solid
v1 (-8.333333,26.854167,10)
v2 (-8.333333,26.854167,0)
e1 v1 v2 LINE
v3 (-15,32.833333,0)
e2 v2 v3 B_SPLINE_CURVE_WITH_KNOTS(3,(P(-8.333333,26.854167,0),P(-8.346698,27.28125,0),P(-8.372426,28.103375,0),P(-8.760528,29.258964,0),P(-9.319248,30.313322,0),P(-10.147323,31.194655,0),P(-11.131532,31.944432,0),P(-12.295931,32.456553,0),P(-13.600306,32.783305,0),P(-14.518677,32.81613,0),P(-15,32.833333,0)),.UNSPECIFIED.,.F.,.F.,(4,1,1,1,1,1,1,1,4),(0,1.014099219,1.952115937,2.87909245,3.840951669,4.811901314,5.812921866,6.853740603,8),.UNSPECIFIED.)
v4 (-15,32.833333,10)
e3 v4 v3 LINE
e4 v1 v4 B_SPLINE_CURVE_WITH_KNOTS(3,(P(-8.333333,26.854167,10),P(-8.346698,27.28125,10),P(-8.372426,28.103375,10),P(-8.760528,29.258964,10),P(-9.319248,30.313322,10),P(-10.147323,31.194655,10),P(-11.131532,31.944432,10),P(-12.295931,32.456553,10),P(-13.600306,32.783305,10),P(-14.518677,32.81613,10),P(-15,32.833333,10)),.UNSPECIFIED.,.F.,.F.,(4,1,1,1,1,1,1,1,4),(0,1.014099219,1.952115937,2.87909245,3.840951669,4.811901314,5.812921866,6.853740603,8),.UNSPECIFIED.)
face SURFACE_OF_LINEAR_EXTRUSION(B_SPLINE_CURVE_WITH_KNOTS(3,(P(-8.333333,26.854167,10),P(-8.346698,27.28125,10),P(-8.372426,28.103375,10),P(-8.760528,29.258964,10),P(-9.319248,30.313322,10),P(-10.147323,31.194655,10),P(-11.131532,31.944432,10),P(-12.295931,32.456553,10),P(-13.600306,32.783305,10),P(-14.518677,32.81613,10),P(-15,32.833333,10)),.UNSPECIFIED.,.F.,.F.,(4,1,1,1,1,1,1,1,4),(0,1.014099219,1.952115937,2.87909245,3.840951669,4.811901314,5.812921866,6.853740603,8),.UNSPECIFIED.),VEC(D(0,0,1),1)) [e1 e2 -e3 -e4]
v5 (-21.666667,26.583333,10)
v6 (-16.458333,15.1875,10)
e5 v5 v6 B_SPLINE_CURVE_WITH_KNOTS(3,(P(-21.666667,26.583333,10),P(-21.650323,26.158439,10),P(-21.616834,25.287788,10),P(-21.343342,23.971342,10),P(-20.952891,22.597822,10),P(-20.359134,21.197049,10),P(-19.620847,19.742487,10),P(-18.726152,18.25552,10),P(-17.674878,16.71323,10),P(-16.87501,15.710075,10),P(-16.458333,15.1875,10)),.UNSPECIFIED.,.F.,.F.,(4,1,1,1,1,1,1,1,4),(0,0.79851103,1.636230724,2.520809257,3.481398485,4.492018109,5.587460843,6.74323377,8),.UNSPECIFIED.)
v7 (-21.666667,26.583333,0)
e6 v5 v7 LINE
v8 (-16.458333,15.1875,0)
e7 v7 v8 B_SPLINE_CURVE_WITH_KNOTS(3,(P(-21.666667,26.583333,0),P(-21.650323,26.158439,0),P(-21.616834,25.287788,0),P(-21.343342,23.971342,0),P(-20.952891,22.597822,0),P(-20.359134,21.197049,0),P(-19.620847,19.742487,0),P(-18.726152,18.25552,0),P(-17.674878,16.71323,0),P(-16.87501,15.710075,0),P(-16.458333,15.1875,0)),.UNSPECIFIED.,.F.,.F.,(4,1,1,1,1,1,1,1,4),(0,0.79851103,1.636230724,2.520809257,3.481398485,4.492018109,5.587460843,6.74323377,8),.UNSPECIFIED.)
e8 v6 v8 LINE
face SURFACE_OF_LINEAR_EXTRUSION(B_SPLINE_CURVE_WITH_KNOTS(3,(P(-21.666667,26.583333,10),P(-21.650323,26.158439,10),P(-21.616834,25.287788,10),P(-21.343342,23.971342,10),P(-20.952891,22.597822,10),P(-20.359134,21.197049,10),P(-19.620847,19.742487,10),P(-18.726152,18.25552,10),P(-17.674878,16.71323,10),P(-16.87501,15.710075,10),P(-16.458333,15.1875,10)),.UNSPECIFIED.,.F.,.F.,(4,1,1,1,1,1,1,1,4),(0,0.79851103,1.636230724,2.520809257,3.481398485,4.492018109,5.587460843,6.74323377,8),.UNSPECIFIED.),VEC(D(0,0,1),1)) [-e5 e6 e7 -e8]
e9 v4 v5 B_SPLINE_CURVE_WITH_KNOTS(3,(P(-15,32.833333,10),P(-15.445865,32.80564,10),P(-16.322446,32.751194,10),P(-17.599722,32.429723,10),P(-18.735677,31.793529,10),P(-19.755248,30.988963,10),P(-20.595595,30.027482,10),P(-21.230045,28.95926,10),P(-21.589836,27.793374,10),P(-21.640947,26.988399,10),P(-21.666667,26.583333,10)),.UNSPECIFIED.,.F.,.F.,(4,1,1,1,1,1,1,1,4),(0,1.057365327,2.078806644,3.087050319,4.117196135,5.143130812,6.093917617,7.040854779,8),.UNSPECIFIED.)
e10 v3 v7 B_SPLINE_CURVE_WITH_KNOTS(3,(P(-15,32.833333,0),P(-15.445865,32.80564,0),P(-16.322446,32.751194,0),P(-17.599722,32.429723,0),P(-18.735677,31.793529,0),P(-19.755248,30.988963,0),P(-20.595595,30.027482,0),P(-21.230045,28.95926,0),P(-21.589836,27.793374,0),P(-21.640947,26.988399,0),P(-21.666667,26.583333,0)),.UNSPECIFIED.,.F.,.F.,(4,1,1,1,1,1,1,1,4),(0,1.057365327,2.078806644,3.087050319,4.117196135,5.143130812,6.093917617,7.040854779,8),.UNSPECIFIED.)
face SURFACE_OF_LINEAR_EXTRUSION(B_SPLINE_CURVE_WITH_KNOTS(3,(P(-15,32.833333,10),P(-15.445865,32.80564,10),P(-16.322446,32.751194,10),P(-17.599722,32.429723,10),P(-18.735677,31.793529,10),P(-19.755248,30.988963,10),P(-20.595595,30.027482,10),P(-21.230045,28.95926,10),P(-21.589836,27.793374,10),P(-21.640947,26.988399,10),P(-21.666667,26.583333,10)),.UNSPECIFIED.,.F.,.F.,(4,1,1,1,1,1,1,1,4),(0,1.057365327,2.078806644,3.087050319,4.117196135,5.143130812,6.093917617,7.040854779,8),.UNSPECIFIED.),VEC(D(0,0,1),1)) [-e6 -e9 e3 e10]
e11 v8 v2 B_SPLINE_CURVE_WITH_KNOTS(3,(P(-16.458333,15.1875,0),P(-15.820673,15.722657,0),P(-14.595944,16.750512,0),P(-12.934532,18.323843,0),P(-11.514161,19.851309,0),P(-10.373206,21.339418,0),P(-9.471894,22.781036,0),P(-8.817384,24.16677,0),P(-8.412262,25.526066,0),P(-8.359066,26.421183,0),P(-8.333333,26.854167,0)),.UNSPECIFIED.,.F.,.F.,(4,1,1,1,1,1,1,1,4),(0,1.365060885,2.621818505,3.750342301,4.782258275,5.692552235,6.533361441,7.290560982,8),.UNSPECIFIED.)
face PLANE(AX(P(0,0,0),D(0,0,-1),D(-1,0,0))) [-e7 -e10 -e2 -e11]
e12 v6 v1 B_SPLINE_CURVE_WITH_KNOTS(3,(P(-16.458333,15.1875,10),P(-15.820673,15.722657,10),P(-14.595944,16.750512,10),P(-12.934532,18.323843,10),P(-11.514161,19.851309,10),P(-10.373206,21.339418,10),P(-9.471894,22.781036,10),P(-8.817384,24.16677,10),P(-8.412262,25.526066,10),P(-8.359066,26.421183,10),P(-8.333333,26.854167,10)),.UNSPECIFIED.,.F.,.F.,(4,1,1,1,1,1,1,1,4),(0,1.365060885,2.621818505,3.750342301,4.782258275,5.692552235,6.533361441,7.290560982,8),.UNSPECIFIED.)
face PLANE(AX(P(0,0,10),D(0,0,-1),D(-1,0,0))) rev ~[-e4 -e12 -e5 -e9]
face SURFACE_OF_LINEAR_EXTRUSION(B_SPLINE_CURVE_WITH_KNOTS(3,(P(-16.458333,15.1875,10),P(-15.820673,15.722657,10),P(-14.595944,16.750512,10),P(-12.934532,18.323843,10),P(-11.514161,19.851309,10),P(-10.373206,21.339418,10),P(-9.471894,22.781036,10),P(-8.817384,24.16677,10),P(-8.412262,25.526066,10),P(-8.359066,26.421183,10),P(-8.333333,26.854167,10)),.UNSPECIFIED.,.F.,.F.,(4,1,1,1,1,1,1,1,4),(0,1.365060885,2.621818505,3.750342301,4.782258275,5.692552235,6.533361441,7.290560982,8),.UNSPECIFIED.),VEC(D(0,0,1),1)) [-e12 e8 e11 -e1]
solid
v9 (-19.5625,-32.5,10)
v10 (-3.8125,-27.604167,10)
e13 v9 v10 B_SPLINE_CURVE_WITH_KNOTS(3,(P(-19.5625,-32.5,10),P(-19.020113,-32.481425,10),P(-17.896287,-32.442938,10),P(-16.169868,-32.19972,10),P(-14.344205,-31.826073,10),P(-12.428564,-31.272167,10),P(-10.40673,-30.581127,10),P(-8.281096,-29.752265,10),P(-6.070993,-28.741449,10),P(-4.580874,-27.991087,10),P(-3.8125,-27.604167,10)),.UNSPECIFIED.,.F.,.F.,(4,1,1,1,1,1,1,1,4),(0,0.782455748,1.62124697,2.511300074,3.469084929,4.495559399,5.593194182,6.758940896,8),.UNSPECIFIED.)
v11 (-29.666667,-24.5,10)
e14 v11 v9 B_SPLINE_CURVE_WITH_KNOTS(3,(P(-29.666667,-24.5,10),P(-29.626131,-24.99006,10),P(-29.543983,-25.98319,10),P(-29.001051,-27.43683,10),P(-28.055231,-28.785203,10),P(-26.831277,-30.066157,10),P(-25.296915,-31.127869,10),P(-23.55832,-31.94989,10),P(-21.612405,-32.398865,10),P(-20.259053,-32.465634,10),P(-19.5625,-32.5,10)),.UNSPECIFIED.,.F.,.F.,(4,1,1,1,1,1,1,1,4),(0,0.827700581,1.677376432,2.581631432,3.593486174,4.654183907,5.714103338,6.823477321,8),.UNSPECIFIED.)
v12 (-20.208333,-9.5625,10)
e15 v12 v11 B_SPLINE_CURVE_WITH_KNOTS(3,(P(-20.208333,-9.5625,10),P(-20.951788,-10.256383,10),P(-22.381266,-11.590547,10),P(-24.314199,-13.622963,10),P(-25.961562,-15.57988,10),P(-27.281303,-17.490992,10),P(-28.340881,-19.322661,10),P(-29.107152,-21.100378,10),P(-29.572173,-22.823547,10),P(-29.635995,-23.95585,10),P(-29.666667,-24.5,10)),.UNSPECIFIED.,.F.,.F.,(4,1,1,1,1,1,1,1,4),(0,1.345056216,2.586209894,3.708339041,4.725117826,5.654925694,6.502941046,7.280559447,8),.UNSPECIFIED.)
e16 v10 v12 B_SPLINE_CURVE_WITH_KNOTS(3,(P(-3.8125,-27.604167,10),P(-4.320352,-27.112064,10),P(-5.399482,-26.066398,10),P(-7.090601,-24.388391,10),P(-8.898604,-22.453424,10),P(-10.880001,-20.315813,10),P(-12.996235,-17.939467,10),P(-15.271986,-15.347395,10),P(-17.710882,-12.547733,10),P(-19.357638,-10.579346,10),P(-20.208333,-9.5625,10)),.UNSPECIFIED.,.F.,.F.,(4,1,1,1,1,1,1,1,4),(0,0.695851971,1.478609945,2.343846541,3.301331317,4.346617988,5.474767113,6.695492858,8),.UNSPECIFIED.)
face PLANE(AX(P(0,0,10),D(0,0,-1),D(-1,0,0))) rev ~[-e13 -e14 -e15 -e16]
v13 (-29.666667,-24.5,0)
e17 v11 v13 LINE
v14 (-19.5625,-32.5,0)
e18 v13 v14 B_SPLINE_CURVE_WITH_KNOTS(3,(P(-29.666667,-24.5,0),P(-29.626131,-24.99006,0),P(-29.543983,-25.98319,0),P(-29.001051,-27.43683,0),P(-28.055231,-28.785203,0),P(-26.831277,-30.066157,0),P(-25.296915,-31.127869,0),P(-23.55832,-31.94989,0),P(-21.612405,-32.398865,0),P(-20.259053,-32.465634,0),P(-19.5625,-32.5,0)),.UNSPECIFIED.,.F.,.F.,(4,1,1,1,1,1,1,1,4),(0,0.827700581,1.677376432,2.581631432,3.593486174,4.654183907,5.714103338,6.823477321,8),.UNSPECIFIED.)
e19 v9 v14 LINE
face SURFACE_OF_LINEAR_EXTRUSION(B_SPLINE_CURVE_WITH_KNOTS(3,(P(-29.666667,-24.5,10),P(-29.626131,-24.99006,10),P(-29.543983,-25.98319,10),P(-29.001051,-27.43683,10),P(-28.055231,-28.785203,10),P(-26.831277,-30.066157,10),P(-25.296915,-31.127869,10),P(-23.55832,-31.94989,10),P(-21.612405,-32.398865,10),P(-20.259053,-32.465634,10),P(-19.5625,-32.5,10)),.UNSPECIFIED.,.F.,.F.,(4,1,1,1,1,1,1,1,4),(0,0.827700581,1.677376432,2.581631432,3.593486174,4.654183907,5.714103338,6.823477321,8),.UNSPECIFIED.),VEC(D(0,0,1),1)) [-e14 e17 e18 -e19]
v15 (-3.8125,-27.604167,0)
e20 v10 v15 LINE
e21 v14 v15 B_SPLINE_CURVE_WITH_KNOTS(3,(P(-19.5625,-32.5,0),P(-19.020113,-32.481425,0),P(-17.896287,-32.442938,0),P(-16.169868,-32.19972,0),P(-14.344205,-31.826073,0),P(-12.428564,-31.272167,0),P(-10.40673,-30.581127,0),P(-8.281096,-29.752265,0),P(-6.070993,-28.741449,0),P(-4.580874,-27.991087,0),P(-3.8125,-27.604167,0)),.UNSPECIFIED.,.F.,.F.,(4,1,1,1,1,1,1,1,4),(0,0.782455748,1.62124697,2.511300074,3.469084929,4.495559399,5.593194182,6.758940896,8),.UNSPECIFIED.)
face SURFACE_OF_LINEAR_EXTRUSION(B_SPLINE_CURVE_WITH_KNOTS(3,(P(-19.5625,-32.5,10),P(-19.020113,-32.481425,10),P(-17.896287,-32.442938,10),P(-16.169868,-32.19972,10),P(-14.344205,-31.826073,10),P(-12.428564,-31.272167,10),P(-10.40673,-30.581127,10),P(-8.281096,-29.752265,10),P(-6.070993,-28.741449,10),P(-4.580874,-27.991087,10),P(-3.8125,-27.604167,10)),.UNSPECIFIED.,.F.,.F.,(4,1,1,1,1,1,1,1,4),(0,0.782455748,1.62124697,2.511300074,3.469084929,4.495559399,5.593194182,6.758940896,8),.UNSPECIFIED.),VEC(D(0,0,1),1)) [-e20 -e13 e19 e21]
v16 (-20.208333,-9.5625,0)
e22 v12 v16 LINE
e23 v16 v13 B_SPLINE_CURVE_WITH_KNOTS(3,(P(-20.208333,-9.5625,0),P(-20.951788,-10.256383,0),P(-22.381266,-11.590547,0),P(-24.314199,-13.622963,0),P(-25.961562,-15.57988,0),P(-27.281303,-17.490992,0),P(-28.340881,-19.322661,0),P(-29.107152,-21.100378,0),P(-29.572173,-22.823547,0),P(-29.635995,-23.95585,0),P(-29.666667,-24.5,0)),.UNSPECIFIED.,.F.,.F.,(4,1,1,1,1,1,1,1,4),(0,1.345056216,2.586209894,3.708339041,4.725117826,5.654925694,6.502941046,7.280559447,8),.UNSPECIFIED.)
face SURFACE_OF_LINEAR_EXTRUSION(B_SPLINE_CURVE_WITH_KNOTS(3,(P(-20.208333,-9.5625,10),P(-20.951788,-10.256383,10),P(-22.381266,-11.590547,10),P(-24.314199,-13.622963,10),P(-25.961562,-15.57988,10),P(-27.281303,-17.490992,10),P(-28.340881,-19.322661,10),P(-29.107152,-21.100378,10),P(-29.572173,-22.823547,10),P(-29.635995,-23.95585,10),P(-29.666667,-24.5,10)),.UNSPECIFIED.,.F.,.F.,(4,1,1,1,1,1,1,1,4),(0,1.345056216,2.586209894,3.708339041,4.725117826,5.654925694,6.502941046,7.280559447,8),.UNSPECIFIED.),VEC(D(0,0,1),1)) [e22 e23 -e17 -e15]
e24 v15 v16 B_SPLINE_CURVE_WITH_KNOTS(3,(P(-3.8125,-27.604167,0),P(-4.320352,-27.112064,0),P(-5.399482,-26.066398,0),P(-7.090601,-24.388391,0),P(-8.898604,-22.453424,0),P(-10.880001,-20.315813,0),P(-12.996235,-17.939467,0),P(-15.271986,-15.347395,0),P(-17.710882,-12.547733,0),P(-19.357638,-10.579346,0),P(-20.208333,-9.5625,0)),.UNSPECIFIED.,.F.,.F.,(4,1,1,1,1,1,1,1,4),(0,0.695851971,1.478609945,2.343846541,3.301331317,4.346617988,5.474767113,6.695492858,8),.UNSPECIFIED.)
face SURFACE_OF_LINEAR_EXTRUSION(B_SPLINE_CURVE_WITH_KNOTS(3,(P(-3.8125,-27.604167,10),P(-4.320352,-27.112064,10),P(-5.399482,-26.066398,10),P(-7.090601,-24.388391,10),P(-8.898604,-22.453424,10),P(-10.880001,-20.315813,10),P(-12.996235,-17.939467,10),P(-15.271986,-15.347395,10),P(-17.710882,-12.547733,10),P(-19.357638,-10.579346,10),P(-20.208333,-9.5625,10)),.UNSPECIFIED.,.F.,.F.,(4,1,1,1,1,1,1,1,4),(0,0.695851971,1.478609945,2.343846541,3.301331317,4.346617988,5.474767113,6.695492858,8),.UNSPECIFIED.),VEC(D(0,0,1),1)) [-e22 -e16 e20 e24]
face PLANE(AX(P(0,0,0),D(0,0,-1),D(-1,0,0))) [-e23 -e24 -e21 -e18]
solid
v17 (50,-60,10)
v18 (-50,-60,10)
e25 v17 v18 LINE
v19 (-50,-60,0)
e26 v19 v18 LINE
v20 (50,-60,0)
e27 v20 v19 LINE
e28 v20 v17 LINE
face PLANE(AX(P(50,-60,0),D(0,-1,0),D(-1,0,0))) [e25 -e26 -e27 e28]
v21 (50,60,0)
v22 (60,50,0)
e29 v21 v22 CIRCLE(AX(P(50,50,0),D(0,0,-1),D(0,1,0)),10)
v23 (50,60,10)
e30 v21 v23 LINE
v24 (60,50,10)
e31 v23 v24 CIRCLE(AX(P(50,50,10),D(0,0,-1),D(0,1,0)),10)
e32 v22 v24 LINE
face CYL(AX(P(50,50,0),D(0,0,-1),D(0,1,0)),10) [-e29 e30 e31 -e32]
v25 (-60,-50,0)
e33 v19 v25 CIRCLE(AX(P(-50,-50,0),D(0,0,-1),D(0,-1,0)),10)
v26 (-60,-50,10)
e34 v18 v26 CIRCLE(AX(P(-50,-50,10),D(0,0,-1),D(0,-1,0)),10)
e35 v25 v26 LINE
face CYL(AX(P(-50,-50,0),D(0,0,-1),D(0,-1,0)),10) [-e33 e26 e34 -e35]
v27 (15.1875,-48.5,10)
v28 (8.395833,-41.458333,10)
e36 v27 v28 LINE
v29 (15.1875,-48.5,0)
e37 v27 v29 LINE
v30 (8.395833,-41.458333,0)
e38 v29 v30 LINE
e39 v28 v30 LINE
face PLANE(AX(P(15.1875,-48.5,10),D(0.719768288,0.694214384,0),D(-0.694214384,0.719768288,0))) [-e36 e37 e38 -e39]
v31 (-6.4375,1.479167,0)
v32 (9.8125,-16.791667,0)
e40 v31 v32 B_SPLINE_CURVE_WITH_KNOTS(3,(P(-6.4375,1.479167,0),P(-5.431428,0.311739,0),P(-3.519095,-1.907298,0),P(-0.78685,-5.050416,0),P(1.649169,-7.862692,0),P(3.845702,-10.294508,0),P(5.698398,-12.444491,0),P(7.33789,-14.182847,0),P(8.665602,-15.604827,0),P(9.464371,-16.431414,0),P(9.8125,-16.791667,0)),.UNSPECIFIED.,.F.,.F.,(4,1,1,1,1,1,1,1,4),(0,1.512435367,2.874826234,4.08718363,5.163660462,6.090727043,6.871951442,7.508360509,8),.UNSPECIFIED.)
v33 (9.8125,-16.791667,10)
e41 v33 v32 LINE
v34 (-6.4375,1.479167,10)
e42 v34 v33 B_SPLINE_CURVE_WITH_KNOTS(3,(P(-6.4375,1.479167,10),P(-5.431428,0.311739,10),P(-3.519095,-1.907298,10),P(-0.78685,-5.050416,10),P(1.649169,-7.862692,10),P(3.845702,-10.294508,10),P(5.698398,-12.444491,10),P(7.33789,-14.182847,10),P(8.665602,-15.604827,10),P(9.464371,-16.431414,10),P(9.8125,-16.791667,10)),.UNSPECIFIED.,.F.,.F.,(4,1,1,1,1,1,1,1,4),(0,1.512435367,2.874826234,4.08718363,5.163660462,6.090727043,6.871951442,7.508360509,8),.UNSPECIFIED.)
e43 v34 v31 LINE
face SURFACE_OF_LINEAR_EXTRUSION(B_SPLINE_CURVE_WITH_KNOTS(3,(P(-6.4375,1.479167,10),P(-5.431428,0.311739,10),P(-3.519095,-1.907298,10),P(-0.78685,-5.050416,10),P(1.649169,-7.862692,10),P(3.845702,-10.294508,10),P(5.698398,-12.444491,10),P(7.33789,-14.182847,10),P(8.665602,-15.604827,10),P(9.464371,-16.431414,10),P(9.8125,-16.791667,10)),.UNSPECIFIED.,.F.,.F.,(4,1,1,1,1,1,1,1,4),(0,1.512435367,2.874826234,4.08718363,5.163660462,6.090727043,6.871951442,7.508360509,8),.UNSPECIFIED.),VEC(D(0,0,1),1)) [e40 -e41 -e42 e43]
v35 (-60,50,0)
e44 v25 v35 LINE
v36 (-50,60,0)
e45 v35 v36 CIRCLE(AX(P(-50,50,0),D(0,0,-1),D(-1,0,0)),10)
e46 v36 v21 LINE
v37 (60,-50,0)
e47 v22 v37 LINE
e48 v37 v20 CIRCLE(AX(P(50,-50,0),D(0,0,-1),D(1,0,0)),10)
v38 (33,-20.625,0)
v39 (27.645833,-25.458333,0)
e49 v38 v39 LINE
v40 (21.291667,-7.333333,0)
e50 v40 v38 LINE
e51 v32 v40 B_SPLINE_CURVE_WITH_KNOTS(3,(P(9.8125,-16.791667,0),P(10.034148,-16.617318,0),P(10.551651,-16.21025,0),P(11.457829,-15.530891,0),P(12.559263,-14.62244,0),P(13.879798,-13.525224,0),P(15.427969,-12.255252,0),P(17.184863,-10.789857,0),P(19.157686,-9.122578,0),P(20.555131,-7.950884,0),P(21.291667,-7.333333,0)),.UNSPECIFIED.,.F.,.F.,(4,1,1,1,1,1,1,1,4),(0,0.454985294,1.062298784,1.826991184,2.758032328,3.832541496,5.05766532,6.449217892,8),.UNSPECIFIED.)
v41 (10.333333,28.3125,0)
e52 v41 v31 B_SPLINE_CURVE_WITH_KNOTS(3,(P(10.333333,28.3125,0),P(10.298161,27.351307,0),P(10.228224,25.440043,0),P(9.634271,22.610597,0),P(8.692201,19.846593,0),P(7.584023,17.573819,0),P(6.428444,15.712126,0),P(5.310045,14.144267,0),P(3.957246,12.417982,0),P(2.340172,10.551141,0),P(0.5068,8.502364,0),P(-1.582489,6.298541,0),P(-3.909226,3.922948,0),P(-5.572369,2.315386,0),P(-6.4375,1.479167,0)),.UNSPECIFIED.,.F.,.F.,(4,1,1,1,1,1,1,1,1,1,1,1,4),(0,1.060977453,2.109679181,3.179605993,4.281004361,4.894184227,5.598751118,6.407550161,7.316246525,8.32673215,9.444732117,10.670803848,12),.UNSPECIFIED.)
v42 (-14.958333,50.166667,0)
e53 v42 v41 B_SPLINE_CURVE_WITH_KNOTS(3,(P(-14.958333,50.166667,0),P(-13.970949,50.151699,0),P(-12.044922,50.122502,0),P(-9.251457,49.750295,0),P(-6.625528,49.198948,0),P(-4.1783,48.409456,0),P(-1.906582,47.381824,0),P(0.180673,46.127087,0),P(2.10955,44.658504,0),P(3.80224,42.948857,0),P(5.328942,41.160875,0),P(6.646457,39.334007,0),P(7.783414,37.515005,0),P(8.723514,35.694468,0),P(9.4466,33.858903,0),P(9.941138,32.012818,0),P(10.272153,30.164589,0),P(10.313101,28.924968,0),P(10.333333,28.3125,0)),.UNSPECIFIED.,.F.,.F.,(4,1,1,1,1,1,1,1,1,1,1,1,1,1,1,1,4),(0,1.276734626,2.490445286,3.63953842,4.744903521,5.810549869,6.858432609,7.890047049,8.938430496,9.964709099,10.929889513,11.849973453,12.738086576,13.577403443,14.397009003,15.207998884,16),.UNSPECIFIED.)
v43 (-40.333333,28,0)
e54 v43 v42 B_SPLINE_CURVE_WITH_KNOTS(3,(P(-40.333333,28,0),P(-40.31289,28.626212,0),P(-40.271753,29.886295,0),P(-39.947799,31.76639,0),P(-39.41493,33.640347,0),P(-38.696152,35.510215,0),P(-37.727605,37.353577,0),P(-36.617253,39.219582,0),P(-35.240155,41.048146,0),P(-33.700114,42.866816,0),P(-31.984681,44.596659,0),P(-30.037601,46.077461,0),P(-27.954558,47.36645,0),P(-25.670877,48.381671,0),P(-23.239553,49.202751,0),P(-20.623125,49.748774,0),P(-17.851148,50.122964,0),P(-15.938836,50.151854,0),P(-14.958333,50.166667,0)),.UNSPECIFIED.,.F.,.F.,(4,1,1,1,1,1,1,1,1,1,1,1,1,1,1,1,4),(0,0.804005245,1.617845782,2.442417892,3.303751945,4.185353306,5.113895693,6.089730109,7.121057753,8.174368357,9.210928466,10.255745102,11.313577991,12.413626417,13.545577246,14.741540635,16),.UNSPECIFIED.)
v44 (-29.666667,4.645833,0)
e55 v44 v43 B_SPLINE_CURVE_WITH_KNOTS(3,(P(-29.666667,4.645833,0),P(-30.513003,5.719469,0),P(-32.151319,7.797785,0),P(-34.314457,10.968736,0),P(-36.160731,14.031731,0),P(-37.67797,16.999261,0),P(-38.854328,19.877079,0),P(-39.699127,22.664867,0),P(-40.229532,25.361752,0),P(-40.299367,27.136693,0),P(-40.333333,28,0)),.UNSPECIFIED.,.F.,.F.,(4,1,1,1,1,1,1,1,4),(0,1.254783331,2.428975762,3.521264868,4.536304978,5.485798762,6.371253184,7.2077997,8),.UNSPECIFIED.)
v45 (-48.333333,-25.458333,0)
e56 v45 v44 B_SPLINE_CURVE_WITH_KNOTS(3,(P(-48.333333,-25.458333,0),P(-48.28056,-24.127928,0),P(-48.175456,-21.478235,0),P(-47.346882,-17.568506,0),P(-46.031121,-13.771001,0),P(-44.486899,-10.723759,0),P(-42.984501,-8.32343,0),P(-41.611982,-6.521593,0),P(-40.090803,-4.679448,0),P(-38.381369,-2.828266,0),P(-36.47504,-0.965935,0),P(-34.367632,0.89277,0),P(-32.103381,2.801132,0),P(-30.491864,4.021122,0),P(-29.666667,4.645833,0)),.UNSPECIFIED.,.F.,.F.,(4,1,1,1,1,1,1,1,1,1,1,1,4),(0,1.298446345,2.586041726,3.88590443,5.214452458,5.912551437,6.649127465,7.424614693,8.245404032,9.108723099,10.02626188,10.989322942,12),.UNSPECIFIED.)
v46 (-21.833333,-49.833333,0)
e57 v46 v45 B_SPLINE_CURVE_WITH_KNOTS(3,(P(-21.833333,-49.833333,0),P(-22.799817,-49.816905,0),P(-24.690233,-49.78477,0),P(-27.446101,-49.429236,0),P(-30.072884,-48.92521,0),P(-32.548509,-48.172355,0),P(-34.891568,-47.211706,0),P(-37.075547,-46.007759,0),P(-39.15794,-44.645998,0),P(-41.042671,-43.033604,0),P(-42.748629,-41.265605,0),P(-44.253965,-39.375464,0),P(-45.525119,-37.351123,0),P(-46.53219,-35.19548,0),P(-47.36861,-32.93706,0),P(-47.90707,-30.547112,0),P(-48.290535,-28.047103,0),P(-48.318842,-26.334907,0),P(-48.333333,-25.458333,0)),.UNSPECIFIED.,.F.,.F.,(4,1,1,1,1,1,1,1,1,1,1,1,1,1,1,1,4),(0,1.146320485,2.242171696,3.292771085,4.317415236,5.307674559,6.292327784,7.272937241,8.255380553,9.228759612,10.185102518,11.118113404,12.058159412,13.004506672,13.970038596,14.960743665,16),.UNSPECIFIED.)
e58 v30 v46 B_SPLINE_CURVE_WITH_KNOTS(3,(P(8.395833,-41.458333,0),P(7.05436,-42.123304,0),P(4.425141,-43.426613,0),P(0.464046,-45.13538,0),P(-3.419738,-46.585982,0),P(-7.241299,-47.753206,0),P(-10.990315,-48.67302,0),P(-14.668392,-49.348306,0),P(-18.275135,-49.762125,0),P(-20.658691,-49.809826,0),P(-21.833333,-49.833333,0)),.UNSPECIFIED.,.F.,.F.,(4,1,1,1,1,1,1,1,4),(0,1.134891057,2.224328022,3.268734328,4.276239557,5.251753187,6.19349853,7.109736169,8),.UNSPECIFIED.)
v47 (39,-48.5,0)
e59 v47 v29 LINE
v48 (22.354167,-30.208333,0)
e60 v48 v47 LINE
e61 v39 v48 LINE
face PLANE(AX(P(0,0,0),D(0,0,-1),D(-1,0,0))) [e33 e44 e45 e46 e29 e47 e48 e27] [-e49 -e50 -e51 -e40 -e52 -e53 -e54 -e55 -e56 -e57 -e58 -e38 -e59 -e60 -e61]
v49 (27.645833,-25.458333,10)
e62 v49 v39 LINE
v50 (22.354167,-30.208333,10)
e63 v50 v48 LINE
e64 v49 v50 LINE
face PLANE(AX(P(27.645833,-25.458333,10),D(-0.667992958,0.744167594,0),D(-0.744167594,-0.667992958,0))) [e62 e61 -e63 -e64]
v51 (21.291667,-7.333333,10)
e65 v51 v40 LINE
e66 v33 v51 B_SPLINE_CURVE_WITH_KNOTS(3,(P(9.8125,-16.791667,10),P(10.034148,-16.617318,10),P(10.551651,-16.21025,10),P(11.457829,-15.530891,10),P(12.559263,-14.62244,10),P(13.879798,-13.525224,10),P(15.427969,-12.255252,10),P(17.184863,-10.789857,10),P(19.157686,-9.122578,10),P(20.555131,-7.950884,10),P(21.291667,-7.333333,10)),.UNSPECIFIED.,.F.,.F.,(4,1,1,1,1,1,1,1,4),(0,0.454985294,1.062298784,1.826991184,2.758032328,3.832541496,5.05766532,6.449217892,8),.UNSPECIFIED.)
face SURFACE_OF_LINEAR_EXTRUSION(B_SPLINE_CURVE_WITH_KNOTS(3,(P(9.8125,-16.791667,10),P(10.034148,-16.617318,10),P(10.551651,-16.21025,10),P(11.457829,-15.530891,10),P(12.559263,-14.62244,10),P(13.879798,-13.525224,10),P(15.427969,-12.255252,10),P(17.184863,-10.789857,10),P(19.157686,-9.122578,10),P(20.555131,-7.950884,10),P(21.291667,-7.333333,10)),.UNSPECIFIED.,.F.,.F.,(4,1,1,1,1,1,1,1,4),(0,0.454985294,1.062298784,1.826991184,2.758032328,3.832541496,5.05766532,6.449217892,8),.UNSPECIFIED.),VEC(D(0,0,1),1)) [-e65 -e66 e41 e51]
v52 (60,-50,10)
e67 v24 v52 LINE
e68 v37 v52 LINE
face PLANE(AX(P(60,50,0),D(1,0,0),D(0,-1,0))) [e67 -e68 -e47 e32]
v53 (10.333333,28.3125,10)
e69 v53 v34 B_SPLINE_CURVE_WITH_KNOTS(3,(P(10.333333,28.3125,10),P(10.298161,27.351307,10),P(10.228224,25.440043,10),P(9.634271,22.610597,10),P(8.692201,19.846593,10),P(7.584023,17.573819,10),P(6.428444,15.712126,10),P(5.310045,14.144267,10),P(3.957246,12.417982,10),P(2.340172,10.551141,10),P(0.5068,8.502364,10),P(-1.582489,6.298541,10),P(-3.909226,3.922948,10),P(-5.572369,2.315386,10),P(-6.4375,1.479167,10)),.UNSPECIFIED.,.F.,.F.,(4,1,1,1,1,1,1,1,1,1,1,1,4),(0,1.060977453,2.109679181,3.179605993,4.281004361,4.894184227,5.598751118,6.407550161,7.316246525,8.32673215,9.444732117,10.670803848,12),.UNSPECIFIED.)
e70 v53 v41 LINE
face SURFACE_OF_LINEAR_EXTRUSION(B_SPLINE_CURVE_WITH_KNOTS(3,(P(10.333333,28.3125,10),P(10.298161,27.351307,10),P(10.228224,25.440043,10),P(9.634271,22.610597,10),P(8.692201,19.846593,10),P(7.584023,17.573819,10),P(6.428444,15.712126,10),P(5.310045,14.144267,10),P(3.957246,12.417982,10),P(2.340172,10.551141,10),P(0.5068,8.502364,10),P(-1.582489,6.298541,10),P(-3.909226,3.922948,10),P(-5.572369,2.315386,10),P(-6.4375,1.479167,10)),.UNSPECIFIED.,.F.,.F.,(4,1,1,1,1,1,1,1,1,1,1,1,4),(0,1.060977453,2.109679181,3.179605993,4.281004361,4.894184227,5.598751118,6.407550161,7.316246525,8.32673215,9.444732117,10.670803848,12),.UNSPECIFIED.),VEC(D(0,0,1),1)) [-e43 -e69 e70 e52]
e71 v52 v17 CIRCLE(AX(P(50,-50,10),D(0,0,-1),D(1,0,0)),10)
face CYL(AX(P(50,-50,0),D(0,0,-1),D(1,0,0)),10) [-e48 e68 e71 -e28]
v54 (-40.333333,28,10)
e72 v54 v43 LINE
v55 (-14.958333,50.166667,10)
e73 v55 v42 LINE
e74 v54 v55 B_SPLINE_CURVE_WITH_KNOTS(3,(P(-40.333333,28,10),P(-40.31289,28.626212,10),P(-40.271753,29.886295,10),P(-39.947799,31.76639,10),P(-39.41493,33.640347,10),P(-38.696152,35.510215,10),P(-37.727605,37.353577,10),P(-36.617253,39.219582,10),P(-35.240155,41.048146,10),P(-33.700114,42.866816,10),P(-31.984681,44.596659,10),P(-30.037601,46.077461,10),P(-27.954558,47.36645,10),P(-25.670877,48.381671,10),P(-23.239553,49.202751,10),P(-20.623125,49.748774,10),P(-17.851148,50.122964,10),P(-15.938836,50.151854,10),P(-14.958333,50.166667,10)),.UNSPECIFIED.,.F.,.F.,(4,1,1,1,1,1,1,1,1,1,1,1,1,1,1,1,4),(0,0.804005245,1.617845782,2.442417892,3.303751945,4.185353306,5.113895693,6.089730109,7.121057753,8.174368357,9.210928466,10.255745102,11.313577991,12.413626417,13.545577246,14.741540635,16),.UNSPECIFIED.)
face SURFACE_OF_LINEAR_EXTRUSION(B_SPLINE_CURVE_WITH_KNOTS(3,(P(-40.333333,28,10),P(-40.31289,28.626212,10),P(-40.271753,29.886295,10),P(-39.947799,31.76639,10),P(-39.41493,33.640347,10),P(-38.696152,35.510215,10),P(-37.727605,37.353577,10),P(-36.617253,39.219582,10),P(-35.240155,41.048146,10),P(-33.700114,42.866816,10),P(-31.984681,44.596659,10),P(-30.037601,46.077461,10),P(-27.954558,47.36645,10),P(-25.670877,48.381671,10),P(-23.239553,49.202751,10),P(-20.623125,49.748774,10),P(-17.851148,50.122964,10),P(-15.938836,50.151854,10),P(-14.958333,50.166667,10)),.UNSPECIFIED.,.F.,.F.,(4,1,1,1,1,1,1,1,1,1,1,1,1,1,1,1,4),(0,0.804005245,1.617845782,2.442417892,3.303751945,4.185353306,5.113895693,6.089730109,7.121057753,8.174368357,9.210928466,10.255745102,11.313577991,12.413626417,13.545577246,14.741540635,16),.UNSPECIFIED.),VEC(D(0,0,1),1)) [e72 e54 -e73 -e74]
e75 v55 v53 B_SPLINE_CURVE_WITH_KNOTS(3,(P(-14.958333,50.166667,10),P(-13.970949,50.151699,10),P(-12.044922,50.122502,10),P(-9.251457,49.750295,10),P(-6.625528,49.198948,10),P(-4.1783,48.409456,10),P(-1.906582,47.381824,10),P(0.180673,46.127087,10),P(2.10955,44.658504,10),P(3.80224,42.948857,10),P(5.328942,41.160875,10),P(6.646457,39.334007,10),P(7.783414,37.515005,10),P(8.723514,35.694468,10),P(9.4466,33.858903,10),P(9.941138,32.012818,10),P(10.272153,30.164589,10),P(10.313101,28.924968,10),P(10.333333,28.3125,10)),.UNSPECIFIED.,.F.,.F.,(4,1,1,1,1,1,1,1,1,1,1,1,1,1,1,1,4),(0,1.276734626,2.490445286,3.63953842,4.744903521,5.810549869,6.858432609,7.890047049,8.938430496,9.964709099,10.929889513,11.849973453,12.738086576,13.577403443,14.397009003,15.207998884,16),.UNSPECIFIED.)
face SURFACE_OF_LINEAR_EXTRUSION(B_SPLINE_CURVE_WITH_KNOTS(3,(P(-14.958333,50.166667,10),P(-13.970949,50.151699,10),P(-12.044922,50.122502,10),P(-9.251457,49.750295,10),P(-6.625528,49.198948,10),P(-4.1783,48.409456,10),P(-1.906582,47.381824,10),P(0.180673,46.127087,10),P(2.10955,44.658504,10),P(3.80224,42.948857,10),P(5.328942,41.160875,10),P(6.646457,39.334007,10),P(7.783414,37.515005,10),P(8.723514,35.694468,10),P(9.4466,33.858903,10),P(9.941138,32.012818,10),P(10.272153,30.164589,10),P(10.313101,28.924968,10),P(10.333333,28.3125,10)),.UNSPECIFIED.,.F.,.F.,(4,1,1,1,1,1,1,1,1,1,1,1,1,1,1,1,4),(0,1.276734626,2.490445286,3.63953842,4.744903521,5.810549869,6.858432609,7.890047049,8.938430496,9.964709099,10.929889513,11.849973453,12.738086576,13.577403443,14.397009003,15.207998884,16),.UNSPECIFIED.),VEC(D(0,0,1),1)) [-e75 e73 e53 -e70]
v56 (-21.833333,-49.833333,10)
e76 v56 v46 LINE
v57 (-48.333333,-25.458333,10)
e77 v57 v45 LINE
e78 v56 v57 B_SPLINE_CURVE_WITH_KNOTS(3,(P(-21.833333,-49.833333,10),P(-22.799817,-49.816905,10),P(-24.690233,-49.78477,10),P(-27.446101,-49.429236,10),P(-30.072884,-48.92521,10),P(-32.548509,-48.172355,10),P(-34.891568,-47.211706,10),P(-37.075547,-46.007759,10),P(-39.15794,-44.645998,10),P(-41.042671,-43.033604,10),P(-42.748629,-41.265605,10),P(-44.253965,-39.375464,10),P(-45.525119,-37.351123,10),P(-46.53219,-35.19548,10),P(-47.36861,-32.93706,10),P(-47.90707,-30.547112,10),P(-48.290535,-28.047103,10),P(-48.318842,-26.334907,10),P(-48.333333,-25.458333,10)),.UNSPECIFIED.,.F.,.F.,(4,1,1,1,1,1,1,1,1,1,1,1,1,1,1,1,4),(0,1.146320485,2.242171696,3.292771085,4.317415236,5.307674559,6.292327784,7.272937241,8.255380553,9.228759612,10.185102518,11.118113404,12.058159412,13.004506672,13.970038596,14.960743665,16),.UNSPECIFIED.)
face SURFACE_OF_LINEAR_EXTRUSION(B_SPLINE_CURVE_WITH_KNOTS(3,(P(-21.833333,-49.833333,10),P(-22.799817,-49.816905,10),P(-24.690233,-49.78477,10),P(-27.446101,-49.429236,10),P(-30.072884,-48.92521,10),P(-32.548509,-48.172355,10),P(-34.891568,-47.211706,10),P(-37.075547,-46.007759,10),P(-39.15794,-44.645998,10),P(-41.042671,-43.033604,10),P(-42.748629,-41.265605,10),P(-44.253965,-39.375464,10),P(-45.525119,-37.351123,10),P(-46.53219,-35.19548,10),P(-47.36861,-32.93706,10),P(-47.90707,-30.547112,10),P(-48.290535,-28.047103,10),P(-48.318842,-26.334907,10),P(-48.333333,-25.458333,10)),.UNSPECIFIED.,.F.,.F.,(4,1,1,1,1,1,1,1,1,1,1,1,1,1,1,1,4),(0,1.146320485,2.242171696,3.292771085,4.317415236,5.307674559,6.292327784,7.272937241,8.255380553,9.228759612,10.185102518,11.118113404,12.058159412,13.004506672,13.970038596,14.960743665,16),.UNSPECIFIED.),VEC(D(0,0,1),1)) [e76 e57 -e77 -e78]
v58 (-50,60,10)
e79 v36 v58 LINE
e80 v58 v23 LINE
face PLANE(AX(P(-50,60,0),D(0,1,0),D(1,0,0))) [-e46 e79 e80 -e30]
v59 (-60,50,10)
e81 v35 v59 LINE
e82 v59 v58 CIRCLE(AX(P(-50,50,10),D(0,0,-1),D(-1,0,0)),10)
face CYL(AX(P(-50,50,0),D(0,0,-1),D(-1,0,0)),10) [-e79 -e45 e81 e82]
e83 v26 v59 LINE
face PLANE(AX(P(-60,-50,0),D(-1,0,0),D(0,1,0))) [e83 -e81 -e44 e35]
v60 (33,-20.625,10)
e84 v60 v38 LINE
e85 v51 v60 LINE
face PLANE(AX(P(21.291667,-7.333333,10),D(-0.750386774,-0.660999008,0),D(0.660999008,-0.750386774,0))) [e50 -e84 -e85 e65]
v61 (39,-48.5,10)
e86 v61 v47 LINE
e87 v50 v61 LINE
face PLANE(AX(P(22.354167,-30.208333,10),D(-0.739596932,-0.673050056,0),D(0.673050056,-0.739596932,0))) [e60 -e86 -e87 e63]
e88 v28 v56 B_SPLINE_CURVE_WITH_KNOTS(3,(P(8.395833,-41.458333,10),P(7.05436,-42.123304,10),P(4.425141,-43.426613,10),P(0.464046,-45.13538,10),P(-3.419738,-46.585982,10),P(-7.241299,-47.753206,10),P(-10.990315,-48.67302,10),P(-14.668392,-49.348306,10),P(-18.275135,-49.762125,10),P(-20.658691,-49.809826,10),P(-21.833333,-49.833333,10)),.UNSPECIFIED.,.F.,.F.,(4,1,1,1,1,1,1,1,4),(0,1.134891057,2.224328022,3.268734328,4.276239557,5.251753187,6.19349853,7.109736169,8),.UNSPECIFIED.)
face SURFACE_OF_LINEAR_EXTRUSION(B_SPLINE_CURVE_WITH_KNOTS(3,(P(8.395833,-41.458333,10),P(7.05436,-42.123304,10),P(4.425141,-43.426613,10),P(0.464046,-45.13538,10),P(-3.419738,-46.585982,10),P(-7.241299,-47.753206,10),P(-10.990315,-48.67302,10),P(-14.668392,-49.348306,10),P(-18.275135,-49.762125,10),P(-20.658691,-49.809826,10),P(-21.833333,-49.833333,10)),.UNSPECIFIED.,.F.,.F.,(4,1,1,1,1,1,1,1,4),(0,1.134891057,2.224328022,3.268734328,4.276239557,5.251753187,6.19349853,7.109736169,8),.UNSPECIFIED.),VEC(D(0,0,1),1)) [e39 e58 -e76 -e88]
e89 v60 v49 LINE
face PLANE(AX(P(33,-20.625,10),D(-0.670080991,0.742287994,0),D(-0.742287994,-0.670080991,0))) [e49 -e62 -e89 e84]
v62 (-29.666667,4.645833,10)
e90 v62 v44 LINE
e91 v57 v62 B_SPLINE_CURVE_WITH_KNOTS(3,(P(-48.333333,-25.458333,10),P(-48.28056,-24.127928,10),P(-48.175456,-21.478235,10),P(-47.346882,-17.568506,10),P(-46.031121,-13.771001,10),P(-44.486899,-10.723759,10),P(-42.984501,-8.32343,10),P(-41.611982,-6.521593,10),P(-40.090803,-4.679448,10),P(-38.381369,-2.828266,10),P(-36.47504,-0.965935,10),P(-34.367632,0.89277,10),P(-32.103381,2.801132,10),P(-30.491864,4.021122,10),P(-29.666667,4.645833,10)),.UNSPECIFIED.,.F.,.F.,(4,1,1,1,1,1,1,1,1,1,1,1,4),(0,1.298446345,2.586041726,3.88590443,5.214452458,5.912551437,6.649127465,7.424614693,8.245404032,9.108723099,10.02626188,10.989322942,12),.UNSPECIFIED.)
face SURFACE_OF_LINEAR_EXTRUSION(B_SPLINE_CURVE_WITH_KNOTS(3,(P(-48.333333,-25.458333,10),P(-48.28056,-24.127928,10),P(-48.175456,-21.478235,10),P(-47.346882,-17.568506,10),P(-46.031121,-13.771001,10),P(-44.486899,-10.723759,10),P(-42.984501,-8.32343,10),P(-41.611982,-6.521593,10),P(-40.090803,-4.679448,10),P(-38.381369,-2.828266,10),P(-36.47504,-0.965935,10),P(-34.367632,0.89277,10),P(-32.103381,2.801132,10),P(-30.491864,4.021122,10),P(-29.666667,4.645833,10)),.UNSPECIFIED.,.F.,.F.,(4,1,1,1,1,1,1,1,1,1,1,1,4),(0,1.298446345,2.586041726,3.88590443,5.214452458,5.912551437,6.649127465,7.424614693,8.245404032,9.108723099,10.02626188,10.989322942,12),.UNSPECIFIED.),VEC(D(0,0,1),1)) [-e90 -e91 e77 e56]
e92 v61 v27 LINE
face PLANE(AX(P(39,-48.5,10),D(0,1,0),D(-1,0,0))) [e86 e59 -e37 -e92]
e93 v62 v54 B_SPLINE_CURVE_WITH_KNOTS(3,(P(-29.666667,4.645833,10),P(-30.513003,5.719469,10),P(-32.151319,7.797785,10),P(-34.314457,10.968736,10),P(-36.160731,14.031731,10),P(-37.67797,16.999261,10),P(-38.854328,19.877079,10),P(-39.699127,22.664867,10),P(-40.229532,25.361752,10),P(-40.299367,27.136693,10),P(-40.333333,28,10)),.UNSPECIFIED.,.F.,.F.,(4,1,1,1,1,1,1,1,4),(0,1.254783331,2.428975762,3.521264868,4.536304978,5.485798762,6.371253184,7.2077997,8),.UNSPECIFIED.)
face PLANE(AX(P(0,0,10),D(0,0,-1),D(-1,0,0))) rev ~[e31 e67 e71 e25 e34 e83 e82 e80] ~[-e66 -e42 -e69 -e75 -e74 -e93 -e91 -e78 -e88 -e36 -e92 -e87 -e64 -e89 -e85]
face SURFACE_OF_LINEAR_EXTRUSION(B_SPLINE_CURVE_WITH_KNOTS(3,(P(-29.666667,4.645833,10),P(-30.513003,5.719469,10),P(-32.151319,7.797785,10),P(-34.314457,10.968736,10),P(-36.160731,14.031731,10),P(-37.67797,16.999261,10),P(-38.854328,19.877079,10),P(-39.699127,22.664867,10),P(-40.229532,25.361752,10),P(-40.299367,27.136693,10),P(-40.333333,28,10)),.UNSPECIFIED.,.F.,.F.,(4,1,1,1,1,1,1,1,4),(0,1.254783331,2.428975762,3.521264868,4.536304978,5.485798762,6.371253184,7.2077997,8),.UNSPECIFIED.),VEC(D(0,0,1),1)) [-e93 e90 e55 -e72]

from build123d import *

# Parameters (mm, degrees)
BOSS_EXTRUDE1_DEPTH = 10
CUT_EXTRUDE13_DEPTH = 10


with BuildPart() as part:
    # Sketch1 → Boss-Extrude1 (new body)
    with BuildSketch(Plane.XY):
        with BuildLine():
            Line((-50, 60), (50, 60))
            ThreePointArc((50, 60), (57.071067812, 57.071067812), (60, 50))
            Line((60, 50), (60, -50))
            ThreePointArc((60, -50), (57.071067812, -57.071067812), (50, -60))
            Line((50, -60), (-50, -60))
            ThreePointArc((-50, -60), (-57.071067812, -57.071067812), (-60, -50))
            Line((-60, -50), (-60, 50))
            ThreePointArc((-60, 50), (-57.071067812, 57.071067812), (-50, 60))
        make_face()
    extrude(amount=BOSS_EXTRUDE1_DEPTH)

    # Sketch2 → Cut-Extrude13 (cut)
    with BuildSketch(Plane.XY.offset(10)):
        with BuildLine():
            Line((21.291666667, -7.333333333), (33, -20.625))
            Line((33, -20.625), (27.645833333, -25.458333333))
            Line((27.645833333, -25.458333333), (22.354166667, -30.208333333))
            Line((22.354166667, -30.208333333), (39, -48.5))
            Line((39, -48.5), (15.1875, -48.5))
            Line((15.1875, -48.5), (8.395833333, -41.458333333))
            add(Edge.make_bspline(
                [(8.395833333, -41.458333333), (7.054360025, -42.123304326), (4.425141428, -43.426613224), (0.464045824, -45.135380022), (-3.419738195, -46.585981594), (-7.241299443, -47.753205558), (-10.990315387, -48.673020015), (-14.668391908, -49.34830562), (-18.275135357, -49.762125182), (-20.658690897, -49.809825896), (-21.833333333, -49.833333333)],
                knots=[0, 0, 0, 0, 1.134891057, 2.224328022, 3.268734328, 4.276239557, 5.251753187, 6.19349853, 7.109736169, 8, 8, 8, 8], degree=3))
            add(Edge.make_bspline(
                [(-21.833333333, -49.833333333), (-22.799817125, -49.816904534), (-24.690233141, -49.784770249), (-27.446100863, -49.429235712), (-30.072883625, -48.925209517), (-32.548508844, -48.172354612), (-34.891567932, -47.211706155), (-37.075547019, -46.007759154), (-39.157940368, -44.645998157), (-41.042671122, -43.033604173), (-42.748628894, -41.265605182), (-44.253964676, -39.375463844), (-45.525118776, -37.351122651), (-46.532189727, -35.195480077), (-47.368609584, -32.937059919), (-47.907070207, -30.547112121), (-48.290535138, -28.047102559), (-48.318841597, -26.334906795), (-48.333333333, -25.458333333)],
                knots=[0, 0, 0, 0, 1.146320485, 2.242171696, 3.292771085, 4.317415236, 5.307674559, 6.292327784, 7.272937241, 8.255380553, 9.228759612, 10.185102518, 11.118113404, 12.058159412, 13.004506672, 13.970038596, 14.960743665, 16, 16, 16, 16], degree=3))
            add(Edge.make_bspline(
                [(-48.333333333, -25.458333333), (-48.280560384, -24.127927944), (-48.175455504, -21.478235209), (-47.346882247, -17.568506403), (-46.031120615, -13.771000964), (-44.486898577, -10.723759374), (-42.984501375, -8.323430468), (-41.611982332, -6.521592692), (-40.090802808, -4.679448229), (-38.381369489, -2.828265718), (-36.475040225, -0.965934686), (-34.367632154, 0.892769539), (-32.103380961, 2.80113195), (-30.491863929, 4.021122207), (-29.666666667, 4.645833333)],
                knots=[0, 0, 0, 0, 1.298446345, 2.586041726, 3.88590443, 5.214452458, 5.912551437, 6.649127465, 7.424614693, 8.245404032, 9.108723099, 10.02626188, 10.989322942, 12, 12, 12, 12], degree=3))
            add(Edge.make_bspline(
                [(-29.666666667, 4.645833333), (-30.513003309, 5.719469471), (-32.151318977, 7.797785377), (-34.314456895, 10.968736188), (-36.160730947, 14.031730861), (-37.677970214, 16.999260602), (-38.85432794, 19.877078638), (-39.699127495, 22.664867116), (-40.229531728, 25.361751859), (-40.299366601, 27.136692844), (-40.333333333, 28)],
                knots=[0, 0, 0, 0, 1.254783331, 2.428975762, 3.521264868, 4.536304978, 5.485798762, 6.371253184, 7.2077997, 8, 8, 8, 8], degree=3))
            add(Edge.make_bspline(
                [(-40.333333333, 28), (-40.312889987, 28.626211627), (-40.271753214, 29.886295247), (-39.947798921, 31.766390051), (-39.414929914, 33.640346899), (-38.696151933, 35.51021522), (-37.72760518, 37.353576561), (-36.617252846, 39.219582194), (-35.240155284, 41.048145786), (-33.700114414, 42.866816453), (-31.984681353, 44.596658981), (-30.037601219, 46.077460761), (-27.954558275, 47.366449647), (-25.67087738, 48.381671188), (-23.239553133, 49.202750617), (-20.623124628, 49.748773873), (-17.851147909, 50.122964019), (-15.93883567, 50.151853914), (-14.958333333, 50.166666667)],
                knots=[0, 0, 0, 0, 0.804005245, 1.617845782, 2.442417892, 3.303751945, 4.185353306, 5.113895693, 6.089730109, 7.121057753, 8.174368357, 9.210928466, 10.255745102, 11.313577991, 12.413626417, 13.545577246, 14.741540635, 16, 16, 16, 16], degree=3))
            add(Edge.make_bspline(
                [(-14.958333333, 50.166666667), (-13.970949434, 50.151698804), (-12.044922264, 50.122501943), (-9.251457276, 49.750295065), (-6.625527502, 49.198947689), (-4.178300282, 48.409455826), (-1.906582487, 47.381824391), (0.180673487, 46.127086836), (2.10954979, 44.658504326), (3.80224014, 42.94885723), (5.328941921, 41.160875063), (6.646457253, 39.334007497), (7.783413608, 37.515005279), (8.723513888, 35.694467507), (9.446600069, 33.858903155), (9.941138122, 32.012818078), (10.27215253, 30.164589329), (10.313101423, 28.924968328), (10.333333333, 28.3125)],
                knots=[0, 0, 0, 0, 1.276734626, 2.490445286, 3.63953842, 4.744903521, 5.810549869, 6.858432609, 7.890047049, 8.938430496, 9.964709099, 10.929889513, 11.849973453, 12.738086576, 13.577403443, 14.397009003, 15.207998884, 16, 16, 16, 16], degree=3))
            add(Edge.make_bspline(
                [(10.333333333, 28.3125), (10.298161399, 27.351307172), (10.228224476, 25.440042712), (9.634270585, 22.610597411), (8.692201446, 19.846593109), (7.584023416, 17.573818753), (6.428444373, 15.712126054), (5.310044928, 14.144266694), (3.957245933, 12.417981844), (2.340171818, 10.551140751), (0.506800264, 8.502364458), (-1.582488738, 6.298540674), (-3.909226095, 3.922948422), (-5.572368565, 2.315386355), (-6.4375, 1.479166667)],
                knots=[0, 0, 0, 0, 1.060977453, 2.109679181, 3.179605993, 4.281004361, 4.894184227, 5.598751118, 6.407550161, 7.316246525, 8.32673215, 9.444732117, 10.670803848, 12, 12, 12, 12], degree=3))
            add(Edge.make_bspline(
                [(-6.4375, 1.479166667), (-5.43142849, 0.31173941), (-3.519095021, -1.907297899), (-0.786849872, -5.050415847), (1.649168852, -7.862692288), (3.84570179, -10.294508492), (5.698398029, -12.444490766), (7.337889659, -14.182846507), (8.665601804, -15.604827459), (9.46437096, -16.431413947), (9.8125, -16.791666667)],
                knots=[0, 0, 0, 0, 1.512435367, 2.874826234, 4.08718363, 5.163660462, 6.090727043, 6.871951442, 7.508360509, 8, 8, 8, 8], degree=3))
            add(Edge.make_bspline(
                [(9.8125, -16.791666667), (10.03414796, -16.617318322), (10.551651189, -16.210250144), (11.457829222, -15.530890747), (12.559262542, -14.622439995), (13.879798281, -13.525224403), (15.427969327, -12.255251658), (17.184863101, -10.789857196), (19.157685998, -9.122578126), (20.555131385, -7.950884344), (21.291666667, -7.333333333)],
                knots=[0, 0, 0, 0, 0.454985294, 1.062298784, 1.826991184, 2.758032328, 3.832541496, 5.05766532, 6.449217892, 8, 8, 8, 8], degree=3))
        make_face()
        with BuildLine():
            add(Edge.make_bspline(
                [(-16.458333333, 15.1875), (-15.820673107, 15.722656961), (-14.595944306, 16.75051179), (-12.934531607, 18.323842818), (-11.514161327, 19.851308864), (-10.373205614, 21.339418105), (-9.471894079, 22.781036235), (-8.81738434, 24.166769592), (-8.412262209, 25.526066258), (-8.359065515, 26.421182908), (-8.333333333, 26.854166667)],
                knots=[0, 0, 0, 0, 1.365060885, 2.621818505, 3.750342301, 4.782258275, 5.692552235, 6.533361441, 7.290560982, 8, 8, 8, 8], degree=3))
            add(Edge.make_bspline(
                [(-8.333333333, 26.854166667), (-8.346698479, 27.281249901), (-8.372426054, 28.103374574), (-8.760528014, 29.258964356), (-9.319248267, 30.313322328), (-10.147322945, 31.194655262), (-11.131531616, 31.944431543), (-12.295930867, 32.456553436), (-13.600305813, 32.783305388), (-14.518676822, 32.816129854), (-15, 32.833333333)],
                knots=[0, 0, 0, 0, 1.014099219, 1.952115937, 2.87909245, 3.840951669, 4.811901314, 5.812921866, 6.853740603, 8, 8, 8, 8], degree=3))
            add(Edge.make_bspline(
                [(-15, 32.833333333), (-15.445864634, 32.805640038), (-16.322445641, 32.751194328), (-17.599722481, 32.42972274), (-18.735676798, 31.793529479), (-19.755247802, 30.988962738), (-20.595594816, 30.027481927), (-21.230044989, 28.959260175), (-21.589835511, 27.793374227), (-21.640947162, 26.988398864), (-21.666666667, 26.583333333)],
                knots=[0, 0, 0, 0, 1.057365327, 2.078806644, 3.087050319, 4.117196135, 5.143130812, 6.093917617, 7.040854779, 8, 8, 8, 8], degree=3))
            add(Edge.make_bspline(
                [(-21.666666667, 26.583333333), (-21.650323124, 26.15843933), (-21.616833534, 25.287788085), (-21.343342006, 23.971341898), (-20.952891278, 22.597821644), (-20.359134077, 21.197049443), (-19.620847046, 19.742487343), (-18.726151657, 18.255519823), (-17.674878362, 16.713229864), (-16.875009665, 15.710074593), (-16.458333333, 15.1875)],
                knots=[0, 0, 0, 0, 0.79851103, 1.636230724, 2.520809257, 3.481398485, 4.492018109, 5.587460843, 6.74323377, 8, 8, 8, 8], degree=3))
        make_face(mode=Mode.SUBTRACT)
        with BuildLine():
            add(Edge.make_bspline(
                [(-3.8125, -27.604166667), (-4.320351903, -27.112063513), (-5.399482098, -26.066397701), (-7.09060091, -24.388390872), (-8.898603912, -22.453424442), (-10.880001433, -20.315812925), (-12.996234636, -17.939467214), (-15.271986181, -15.347395046), (-17.71088158, -12.547732928), (-19.357637562, -10.579346482), (-20.208333333, -9.5625)],
                knots=[0, 0, 0, 0, 0.695851971, 1.478609945, 2.343846541, 3.301331317, 4.346617988, 5.474767113, 6.695492858, 8, 8, 8, 8], degree=3))
            add(Edge.make_bspline(
                [(-20.208333333, -9.5625), (-20.951787702, -10.256382763), (-22.381266279, -11.590547423), (-24.314199458, -13.622963189), (-25.961561806, -15.579880214), (-27.281302707, -17.490991616), (-28.340881475, -19.322661369), (-29.107151829, -21.100378204), (-29.572172843, -22.823547026), (-29.635995471, -23.955849979), (-29.666666667, -24.5)],
                knots=[0, 0, 0, 0, 1.345056216, 2.586209894, 3.708339041, 4.725117826, 5.654925694, 6.502941046, 7.280559447, 8, 8, 8, 8], degree=3))
            add(Edge.make_bspline(
                [(-29.666666667, -24.5), (-29.626130808, -24.990059699), (-29.543982873, -25.983190075), (-29.001051108, -27.436830234), (-28.055230627, -28.785202922), (-26.831276539, -30.066156622), (-25.296914894, -31.127869402), (-23.558320286, -31.949889983), (-21.612404616, -32.398864778), (-20.2590532, -32.465634468), (-19.5625, -32.5)],
                knots=[0, 0, 0, 0, 0.827700581, 1.677376432, 2.581631432, 3.593486174, 4.654183907, 5.714103338, 6.823477321, 8, 8, 8, 8], degree=3))
            add(Edge.make_bspline(
                [(-19.5625, -32.5), (-19.02011253, -32.481425208), (-17.896286622, -32.442938272), (-16.169868486, -32.199719927), (-14.344204862, -31.826073314), (-12.428563787, -31.272166625), (-10.406729501, -30.581127282), (-8.281095675, -29.752265482), (-6.070993297, -28.74144851), (-4.580873755, -27.99108724), (-3.8125, -27.604166667)],
                knots=[0, 0, 0, 0, 0.782455748, 1.62124697, 2.511300074, 3.469084929, 4.495559399, 5.593194182, 6.758940896, 8, 8, 8, 8], degree=3))
        make_face(mode=Mode.SUBTRACT)
    extrude(amount=-CUT_EXTRUDE13_DEPTH, mode=Mode.SUBTRACT)


with BuildPart() as cut_extrude13_piece_1:
    # of the separate pieces the step leaves, piece 1, a body of its own (cut_extrude13_pieces)
    add(part.part.solids().sort_by_distance((-50, 60, 0))[0])


with BuildPart() as cut_extrude13_piece_2:
    # of the separate pieces the step leaves, piece 2, a body of its own (cut_extrude13_pieces)
    add(part.part.solids().sort_by_distance((-3.8125, -27.604166667, 0))[0])


with BuildPart() as cut_extrude13_piece_3:
    # of the separate pieces the step leaves, piece 3, a body of its own (cut_extrude13_pieces)
    add(part.part.solids().sort_by_distance((-16.458333333, 15.1875, 0))[0])


solid = Compound([cut_extrude13_piece_1.part, cut_extrude13_piece_2.part, cut_extrude13_piece_3.part])
